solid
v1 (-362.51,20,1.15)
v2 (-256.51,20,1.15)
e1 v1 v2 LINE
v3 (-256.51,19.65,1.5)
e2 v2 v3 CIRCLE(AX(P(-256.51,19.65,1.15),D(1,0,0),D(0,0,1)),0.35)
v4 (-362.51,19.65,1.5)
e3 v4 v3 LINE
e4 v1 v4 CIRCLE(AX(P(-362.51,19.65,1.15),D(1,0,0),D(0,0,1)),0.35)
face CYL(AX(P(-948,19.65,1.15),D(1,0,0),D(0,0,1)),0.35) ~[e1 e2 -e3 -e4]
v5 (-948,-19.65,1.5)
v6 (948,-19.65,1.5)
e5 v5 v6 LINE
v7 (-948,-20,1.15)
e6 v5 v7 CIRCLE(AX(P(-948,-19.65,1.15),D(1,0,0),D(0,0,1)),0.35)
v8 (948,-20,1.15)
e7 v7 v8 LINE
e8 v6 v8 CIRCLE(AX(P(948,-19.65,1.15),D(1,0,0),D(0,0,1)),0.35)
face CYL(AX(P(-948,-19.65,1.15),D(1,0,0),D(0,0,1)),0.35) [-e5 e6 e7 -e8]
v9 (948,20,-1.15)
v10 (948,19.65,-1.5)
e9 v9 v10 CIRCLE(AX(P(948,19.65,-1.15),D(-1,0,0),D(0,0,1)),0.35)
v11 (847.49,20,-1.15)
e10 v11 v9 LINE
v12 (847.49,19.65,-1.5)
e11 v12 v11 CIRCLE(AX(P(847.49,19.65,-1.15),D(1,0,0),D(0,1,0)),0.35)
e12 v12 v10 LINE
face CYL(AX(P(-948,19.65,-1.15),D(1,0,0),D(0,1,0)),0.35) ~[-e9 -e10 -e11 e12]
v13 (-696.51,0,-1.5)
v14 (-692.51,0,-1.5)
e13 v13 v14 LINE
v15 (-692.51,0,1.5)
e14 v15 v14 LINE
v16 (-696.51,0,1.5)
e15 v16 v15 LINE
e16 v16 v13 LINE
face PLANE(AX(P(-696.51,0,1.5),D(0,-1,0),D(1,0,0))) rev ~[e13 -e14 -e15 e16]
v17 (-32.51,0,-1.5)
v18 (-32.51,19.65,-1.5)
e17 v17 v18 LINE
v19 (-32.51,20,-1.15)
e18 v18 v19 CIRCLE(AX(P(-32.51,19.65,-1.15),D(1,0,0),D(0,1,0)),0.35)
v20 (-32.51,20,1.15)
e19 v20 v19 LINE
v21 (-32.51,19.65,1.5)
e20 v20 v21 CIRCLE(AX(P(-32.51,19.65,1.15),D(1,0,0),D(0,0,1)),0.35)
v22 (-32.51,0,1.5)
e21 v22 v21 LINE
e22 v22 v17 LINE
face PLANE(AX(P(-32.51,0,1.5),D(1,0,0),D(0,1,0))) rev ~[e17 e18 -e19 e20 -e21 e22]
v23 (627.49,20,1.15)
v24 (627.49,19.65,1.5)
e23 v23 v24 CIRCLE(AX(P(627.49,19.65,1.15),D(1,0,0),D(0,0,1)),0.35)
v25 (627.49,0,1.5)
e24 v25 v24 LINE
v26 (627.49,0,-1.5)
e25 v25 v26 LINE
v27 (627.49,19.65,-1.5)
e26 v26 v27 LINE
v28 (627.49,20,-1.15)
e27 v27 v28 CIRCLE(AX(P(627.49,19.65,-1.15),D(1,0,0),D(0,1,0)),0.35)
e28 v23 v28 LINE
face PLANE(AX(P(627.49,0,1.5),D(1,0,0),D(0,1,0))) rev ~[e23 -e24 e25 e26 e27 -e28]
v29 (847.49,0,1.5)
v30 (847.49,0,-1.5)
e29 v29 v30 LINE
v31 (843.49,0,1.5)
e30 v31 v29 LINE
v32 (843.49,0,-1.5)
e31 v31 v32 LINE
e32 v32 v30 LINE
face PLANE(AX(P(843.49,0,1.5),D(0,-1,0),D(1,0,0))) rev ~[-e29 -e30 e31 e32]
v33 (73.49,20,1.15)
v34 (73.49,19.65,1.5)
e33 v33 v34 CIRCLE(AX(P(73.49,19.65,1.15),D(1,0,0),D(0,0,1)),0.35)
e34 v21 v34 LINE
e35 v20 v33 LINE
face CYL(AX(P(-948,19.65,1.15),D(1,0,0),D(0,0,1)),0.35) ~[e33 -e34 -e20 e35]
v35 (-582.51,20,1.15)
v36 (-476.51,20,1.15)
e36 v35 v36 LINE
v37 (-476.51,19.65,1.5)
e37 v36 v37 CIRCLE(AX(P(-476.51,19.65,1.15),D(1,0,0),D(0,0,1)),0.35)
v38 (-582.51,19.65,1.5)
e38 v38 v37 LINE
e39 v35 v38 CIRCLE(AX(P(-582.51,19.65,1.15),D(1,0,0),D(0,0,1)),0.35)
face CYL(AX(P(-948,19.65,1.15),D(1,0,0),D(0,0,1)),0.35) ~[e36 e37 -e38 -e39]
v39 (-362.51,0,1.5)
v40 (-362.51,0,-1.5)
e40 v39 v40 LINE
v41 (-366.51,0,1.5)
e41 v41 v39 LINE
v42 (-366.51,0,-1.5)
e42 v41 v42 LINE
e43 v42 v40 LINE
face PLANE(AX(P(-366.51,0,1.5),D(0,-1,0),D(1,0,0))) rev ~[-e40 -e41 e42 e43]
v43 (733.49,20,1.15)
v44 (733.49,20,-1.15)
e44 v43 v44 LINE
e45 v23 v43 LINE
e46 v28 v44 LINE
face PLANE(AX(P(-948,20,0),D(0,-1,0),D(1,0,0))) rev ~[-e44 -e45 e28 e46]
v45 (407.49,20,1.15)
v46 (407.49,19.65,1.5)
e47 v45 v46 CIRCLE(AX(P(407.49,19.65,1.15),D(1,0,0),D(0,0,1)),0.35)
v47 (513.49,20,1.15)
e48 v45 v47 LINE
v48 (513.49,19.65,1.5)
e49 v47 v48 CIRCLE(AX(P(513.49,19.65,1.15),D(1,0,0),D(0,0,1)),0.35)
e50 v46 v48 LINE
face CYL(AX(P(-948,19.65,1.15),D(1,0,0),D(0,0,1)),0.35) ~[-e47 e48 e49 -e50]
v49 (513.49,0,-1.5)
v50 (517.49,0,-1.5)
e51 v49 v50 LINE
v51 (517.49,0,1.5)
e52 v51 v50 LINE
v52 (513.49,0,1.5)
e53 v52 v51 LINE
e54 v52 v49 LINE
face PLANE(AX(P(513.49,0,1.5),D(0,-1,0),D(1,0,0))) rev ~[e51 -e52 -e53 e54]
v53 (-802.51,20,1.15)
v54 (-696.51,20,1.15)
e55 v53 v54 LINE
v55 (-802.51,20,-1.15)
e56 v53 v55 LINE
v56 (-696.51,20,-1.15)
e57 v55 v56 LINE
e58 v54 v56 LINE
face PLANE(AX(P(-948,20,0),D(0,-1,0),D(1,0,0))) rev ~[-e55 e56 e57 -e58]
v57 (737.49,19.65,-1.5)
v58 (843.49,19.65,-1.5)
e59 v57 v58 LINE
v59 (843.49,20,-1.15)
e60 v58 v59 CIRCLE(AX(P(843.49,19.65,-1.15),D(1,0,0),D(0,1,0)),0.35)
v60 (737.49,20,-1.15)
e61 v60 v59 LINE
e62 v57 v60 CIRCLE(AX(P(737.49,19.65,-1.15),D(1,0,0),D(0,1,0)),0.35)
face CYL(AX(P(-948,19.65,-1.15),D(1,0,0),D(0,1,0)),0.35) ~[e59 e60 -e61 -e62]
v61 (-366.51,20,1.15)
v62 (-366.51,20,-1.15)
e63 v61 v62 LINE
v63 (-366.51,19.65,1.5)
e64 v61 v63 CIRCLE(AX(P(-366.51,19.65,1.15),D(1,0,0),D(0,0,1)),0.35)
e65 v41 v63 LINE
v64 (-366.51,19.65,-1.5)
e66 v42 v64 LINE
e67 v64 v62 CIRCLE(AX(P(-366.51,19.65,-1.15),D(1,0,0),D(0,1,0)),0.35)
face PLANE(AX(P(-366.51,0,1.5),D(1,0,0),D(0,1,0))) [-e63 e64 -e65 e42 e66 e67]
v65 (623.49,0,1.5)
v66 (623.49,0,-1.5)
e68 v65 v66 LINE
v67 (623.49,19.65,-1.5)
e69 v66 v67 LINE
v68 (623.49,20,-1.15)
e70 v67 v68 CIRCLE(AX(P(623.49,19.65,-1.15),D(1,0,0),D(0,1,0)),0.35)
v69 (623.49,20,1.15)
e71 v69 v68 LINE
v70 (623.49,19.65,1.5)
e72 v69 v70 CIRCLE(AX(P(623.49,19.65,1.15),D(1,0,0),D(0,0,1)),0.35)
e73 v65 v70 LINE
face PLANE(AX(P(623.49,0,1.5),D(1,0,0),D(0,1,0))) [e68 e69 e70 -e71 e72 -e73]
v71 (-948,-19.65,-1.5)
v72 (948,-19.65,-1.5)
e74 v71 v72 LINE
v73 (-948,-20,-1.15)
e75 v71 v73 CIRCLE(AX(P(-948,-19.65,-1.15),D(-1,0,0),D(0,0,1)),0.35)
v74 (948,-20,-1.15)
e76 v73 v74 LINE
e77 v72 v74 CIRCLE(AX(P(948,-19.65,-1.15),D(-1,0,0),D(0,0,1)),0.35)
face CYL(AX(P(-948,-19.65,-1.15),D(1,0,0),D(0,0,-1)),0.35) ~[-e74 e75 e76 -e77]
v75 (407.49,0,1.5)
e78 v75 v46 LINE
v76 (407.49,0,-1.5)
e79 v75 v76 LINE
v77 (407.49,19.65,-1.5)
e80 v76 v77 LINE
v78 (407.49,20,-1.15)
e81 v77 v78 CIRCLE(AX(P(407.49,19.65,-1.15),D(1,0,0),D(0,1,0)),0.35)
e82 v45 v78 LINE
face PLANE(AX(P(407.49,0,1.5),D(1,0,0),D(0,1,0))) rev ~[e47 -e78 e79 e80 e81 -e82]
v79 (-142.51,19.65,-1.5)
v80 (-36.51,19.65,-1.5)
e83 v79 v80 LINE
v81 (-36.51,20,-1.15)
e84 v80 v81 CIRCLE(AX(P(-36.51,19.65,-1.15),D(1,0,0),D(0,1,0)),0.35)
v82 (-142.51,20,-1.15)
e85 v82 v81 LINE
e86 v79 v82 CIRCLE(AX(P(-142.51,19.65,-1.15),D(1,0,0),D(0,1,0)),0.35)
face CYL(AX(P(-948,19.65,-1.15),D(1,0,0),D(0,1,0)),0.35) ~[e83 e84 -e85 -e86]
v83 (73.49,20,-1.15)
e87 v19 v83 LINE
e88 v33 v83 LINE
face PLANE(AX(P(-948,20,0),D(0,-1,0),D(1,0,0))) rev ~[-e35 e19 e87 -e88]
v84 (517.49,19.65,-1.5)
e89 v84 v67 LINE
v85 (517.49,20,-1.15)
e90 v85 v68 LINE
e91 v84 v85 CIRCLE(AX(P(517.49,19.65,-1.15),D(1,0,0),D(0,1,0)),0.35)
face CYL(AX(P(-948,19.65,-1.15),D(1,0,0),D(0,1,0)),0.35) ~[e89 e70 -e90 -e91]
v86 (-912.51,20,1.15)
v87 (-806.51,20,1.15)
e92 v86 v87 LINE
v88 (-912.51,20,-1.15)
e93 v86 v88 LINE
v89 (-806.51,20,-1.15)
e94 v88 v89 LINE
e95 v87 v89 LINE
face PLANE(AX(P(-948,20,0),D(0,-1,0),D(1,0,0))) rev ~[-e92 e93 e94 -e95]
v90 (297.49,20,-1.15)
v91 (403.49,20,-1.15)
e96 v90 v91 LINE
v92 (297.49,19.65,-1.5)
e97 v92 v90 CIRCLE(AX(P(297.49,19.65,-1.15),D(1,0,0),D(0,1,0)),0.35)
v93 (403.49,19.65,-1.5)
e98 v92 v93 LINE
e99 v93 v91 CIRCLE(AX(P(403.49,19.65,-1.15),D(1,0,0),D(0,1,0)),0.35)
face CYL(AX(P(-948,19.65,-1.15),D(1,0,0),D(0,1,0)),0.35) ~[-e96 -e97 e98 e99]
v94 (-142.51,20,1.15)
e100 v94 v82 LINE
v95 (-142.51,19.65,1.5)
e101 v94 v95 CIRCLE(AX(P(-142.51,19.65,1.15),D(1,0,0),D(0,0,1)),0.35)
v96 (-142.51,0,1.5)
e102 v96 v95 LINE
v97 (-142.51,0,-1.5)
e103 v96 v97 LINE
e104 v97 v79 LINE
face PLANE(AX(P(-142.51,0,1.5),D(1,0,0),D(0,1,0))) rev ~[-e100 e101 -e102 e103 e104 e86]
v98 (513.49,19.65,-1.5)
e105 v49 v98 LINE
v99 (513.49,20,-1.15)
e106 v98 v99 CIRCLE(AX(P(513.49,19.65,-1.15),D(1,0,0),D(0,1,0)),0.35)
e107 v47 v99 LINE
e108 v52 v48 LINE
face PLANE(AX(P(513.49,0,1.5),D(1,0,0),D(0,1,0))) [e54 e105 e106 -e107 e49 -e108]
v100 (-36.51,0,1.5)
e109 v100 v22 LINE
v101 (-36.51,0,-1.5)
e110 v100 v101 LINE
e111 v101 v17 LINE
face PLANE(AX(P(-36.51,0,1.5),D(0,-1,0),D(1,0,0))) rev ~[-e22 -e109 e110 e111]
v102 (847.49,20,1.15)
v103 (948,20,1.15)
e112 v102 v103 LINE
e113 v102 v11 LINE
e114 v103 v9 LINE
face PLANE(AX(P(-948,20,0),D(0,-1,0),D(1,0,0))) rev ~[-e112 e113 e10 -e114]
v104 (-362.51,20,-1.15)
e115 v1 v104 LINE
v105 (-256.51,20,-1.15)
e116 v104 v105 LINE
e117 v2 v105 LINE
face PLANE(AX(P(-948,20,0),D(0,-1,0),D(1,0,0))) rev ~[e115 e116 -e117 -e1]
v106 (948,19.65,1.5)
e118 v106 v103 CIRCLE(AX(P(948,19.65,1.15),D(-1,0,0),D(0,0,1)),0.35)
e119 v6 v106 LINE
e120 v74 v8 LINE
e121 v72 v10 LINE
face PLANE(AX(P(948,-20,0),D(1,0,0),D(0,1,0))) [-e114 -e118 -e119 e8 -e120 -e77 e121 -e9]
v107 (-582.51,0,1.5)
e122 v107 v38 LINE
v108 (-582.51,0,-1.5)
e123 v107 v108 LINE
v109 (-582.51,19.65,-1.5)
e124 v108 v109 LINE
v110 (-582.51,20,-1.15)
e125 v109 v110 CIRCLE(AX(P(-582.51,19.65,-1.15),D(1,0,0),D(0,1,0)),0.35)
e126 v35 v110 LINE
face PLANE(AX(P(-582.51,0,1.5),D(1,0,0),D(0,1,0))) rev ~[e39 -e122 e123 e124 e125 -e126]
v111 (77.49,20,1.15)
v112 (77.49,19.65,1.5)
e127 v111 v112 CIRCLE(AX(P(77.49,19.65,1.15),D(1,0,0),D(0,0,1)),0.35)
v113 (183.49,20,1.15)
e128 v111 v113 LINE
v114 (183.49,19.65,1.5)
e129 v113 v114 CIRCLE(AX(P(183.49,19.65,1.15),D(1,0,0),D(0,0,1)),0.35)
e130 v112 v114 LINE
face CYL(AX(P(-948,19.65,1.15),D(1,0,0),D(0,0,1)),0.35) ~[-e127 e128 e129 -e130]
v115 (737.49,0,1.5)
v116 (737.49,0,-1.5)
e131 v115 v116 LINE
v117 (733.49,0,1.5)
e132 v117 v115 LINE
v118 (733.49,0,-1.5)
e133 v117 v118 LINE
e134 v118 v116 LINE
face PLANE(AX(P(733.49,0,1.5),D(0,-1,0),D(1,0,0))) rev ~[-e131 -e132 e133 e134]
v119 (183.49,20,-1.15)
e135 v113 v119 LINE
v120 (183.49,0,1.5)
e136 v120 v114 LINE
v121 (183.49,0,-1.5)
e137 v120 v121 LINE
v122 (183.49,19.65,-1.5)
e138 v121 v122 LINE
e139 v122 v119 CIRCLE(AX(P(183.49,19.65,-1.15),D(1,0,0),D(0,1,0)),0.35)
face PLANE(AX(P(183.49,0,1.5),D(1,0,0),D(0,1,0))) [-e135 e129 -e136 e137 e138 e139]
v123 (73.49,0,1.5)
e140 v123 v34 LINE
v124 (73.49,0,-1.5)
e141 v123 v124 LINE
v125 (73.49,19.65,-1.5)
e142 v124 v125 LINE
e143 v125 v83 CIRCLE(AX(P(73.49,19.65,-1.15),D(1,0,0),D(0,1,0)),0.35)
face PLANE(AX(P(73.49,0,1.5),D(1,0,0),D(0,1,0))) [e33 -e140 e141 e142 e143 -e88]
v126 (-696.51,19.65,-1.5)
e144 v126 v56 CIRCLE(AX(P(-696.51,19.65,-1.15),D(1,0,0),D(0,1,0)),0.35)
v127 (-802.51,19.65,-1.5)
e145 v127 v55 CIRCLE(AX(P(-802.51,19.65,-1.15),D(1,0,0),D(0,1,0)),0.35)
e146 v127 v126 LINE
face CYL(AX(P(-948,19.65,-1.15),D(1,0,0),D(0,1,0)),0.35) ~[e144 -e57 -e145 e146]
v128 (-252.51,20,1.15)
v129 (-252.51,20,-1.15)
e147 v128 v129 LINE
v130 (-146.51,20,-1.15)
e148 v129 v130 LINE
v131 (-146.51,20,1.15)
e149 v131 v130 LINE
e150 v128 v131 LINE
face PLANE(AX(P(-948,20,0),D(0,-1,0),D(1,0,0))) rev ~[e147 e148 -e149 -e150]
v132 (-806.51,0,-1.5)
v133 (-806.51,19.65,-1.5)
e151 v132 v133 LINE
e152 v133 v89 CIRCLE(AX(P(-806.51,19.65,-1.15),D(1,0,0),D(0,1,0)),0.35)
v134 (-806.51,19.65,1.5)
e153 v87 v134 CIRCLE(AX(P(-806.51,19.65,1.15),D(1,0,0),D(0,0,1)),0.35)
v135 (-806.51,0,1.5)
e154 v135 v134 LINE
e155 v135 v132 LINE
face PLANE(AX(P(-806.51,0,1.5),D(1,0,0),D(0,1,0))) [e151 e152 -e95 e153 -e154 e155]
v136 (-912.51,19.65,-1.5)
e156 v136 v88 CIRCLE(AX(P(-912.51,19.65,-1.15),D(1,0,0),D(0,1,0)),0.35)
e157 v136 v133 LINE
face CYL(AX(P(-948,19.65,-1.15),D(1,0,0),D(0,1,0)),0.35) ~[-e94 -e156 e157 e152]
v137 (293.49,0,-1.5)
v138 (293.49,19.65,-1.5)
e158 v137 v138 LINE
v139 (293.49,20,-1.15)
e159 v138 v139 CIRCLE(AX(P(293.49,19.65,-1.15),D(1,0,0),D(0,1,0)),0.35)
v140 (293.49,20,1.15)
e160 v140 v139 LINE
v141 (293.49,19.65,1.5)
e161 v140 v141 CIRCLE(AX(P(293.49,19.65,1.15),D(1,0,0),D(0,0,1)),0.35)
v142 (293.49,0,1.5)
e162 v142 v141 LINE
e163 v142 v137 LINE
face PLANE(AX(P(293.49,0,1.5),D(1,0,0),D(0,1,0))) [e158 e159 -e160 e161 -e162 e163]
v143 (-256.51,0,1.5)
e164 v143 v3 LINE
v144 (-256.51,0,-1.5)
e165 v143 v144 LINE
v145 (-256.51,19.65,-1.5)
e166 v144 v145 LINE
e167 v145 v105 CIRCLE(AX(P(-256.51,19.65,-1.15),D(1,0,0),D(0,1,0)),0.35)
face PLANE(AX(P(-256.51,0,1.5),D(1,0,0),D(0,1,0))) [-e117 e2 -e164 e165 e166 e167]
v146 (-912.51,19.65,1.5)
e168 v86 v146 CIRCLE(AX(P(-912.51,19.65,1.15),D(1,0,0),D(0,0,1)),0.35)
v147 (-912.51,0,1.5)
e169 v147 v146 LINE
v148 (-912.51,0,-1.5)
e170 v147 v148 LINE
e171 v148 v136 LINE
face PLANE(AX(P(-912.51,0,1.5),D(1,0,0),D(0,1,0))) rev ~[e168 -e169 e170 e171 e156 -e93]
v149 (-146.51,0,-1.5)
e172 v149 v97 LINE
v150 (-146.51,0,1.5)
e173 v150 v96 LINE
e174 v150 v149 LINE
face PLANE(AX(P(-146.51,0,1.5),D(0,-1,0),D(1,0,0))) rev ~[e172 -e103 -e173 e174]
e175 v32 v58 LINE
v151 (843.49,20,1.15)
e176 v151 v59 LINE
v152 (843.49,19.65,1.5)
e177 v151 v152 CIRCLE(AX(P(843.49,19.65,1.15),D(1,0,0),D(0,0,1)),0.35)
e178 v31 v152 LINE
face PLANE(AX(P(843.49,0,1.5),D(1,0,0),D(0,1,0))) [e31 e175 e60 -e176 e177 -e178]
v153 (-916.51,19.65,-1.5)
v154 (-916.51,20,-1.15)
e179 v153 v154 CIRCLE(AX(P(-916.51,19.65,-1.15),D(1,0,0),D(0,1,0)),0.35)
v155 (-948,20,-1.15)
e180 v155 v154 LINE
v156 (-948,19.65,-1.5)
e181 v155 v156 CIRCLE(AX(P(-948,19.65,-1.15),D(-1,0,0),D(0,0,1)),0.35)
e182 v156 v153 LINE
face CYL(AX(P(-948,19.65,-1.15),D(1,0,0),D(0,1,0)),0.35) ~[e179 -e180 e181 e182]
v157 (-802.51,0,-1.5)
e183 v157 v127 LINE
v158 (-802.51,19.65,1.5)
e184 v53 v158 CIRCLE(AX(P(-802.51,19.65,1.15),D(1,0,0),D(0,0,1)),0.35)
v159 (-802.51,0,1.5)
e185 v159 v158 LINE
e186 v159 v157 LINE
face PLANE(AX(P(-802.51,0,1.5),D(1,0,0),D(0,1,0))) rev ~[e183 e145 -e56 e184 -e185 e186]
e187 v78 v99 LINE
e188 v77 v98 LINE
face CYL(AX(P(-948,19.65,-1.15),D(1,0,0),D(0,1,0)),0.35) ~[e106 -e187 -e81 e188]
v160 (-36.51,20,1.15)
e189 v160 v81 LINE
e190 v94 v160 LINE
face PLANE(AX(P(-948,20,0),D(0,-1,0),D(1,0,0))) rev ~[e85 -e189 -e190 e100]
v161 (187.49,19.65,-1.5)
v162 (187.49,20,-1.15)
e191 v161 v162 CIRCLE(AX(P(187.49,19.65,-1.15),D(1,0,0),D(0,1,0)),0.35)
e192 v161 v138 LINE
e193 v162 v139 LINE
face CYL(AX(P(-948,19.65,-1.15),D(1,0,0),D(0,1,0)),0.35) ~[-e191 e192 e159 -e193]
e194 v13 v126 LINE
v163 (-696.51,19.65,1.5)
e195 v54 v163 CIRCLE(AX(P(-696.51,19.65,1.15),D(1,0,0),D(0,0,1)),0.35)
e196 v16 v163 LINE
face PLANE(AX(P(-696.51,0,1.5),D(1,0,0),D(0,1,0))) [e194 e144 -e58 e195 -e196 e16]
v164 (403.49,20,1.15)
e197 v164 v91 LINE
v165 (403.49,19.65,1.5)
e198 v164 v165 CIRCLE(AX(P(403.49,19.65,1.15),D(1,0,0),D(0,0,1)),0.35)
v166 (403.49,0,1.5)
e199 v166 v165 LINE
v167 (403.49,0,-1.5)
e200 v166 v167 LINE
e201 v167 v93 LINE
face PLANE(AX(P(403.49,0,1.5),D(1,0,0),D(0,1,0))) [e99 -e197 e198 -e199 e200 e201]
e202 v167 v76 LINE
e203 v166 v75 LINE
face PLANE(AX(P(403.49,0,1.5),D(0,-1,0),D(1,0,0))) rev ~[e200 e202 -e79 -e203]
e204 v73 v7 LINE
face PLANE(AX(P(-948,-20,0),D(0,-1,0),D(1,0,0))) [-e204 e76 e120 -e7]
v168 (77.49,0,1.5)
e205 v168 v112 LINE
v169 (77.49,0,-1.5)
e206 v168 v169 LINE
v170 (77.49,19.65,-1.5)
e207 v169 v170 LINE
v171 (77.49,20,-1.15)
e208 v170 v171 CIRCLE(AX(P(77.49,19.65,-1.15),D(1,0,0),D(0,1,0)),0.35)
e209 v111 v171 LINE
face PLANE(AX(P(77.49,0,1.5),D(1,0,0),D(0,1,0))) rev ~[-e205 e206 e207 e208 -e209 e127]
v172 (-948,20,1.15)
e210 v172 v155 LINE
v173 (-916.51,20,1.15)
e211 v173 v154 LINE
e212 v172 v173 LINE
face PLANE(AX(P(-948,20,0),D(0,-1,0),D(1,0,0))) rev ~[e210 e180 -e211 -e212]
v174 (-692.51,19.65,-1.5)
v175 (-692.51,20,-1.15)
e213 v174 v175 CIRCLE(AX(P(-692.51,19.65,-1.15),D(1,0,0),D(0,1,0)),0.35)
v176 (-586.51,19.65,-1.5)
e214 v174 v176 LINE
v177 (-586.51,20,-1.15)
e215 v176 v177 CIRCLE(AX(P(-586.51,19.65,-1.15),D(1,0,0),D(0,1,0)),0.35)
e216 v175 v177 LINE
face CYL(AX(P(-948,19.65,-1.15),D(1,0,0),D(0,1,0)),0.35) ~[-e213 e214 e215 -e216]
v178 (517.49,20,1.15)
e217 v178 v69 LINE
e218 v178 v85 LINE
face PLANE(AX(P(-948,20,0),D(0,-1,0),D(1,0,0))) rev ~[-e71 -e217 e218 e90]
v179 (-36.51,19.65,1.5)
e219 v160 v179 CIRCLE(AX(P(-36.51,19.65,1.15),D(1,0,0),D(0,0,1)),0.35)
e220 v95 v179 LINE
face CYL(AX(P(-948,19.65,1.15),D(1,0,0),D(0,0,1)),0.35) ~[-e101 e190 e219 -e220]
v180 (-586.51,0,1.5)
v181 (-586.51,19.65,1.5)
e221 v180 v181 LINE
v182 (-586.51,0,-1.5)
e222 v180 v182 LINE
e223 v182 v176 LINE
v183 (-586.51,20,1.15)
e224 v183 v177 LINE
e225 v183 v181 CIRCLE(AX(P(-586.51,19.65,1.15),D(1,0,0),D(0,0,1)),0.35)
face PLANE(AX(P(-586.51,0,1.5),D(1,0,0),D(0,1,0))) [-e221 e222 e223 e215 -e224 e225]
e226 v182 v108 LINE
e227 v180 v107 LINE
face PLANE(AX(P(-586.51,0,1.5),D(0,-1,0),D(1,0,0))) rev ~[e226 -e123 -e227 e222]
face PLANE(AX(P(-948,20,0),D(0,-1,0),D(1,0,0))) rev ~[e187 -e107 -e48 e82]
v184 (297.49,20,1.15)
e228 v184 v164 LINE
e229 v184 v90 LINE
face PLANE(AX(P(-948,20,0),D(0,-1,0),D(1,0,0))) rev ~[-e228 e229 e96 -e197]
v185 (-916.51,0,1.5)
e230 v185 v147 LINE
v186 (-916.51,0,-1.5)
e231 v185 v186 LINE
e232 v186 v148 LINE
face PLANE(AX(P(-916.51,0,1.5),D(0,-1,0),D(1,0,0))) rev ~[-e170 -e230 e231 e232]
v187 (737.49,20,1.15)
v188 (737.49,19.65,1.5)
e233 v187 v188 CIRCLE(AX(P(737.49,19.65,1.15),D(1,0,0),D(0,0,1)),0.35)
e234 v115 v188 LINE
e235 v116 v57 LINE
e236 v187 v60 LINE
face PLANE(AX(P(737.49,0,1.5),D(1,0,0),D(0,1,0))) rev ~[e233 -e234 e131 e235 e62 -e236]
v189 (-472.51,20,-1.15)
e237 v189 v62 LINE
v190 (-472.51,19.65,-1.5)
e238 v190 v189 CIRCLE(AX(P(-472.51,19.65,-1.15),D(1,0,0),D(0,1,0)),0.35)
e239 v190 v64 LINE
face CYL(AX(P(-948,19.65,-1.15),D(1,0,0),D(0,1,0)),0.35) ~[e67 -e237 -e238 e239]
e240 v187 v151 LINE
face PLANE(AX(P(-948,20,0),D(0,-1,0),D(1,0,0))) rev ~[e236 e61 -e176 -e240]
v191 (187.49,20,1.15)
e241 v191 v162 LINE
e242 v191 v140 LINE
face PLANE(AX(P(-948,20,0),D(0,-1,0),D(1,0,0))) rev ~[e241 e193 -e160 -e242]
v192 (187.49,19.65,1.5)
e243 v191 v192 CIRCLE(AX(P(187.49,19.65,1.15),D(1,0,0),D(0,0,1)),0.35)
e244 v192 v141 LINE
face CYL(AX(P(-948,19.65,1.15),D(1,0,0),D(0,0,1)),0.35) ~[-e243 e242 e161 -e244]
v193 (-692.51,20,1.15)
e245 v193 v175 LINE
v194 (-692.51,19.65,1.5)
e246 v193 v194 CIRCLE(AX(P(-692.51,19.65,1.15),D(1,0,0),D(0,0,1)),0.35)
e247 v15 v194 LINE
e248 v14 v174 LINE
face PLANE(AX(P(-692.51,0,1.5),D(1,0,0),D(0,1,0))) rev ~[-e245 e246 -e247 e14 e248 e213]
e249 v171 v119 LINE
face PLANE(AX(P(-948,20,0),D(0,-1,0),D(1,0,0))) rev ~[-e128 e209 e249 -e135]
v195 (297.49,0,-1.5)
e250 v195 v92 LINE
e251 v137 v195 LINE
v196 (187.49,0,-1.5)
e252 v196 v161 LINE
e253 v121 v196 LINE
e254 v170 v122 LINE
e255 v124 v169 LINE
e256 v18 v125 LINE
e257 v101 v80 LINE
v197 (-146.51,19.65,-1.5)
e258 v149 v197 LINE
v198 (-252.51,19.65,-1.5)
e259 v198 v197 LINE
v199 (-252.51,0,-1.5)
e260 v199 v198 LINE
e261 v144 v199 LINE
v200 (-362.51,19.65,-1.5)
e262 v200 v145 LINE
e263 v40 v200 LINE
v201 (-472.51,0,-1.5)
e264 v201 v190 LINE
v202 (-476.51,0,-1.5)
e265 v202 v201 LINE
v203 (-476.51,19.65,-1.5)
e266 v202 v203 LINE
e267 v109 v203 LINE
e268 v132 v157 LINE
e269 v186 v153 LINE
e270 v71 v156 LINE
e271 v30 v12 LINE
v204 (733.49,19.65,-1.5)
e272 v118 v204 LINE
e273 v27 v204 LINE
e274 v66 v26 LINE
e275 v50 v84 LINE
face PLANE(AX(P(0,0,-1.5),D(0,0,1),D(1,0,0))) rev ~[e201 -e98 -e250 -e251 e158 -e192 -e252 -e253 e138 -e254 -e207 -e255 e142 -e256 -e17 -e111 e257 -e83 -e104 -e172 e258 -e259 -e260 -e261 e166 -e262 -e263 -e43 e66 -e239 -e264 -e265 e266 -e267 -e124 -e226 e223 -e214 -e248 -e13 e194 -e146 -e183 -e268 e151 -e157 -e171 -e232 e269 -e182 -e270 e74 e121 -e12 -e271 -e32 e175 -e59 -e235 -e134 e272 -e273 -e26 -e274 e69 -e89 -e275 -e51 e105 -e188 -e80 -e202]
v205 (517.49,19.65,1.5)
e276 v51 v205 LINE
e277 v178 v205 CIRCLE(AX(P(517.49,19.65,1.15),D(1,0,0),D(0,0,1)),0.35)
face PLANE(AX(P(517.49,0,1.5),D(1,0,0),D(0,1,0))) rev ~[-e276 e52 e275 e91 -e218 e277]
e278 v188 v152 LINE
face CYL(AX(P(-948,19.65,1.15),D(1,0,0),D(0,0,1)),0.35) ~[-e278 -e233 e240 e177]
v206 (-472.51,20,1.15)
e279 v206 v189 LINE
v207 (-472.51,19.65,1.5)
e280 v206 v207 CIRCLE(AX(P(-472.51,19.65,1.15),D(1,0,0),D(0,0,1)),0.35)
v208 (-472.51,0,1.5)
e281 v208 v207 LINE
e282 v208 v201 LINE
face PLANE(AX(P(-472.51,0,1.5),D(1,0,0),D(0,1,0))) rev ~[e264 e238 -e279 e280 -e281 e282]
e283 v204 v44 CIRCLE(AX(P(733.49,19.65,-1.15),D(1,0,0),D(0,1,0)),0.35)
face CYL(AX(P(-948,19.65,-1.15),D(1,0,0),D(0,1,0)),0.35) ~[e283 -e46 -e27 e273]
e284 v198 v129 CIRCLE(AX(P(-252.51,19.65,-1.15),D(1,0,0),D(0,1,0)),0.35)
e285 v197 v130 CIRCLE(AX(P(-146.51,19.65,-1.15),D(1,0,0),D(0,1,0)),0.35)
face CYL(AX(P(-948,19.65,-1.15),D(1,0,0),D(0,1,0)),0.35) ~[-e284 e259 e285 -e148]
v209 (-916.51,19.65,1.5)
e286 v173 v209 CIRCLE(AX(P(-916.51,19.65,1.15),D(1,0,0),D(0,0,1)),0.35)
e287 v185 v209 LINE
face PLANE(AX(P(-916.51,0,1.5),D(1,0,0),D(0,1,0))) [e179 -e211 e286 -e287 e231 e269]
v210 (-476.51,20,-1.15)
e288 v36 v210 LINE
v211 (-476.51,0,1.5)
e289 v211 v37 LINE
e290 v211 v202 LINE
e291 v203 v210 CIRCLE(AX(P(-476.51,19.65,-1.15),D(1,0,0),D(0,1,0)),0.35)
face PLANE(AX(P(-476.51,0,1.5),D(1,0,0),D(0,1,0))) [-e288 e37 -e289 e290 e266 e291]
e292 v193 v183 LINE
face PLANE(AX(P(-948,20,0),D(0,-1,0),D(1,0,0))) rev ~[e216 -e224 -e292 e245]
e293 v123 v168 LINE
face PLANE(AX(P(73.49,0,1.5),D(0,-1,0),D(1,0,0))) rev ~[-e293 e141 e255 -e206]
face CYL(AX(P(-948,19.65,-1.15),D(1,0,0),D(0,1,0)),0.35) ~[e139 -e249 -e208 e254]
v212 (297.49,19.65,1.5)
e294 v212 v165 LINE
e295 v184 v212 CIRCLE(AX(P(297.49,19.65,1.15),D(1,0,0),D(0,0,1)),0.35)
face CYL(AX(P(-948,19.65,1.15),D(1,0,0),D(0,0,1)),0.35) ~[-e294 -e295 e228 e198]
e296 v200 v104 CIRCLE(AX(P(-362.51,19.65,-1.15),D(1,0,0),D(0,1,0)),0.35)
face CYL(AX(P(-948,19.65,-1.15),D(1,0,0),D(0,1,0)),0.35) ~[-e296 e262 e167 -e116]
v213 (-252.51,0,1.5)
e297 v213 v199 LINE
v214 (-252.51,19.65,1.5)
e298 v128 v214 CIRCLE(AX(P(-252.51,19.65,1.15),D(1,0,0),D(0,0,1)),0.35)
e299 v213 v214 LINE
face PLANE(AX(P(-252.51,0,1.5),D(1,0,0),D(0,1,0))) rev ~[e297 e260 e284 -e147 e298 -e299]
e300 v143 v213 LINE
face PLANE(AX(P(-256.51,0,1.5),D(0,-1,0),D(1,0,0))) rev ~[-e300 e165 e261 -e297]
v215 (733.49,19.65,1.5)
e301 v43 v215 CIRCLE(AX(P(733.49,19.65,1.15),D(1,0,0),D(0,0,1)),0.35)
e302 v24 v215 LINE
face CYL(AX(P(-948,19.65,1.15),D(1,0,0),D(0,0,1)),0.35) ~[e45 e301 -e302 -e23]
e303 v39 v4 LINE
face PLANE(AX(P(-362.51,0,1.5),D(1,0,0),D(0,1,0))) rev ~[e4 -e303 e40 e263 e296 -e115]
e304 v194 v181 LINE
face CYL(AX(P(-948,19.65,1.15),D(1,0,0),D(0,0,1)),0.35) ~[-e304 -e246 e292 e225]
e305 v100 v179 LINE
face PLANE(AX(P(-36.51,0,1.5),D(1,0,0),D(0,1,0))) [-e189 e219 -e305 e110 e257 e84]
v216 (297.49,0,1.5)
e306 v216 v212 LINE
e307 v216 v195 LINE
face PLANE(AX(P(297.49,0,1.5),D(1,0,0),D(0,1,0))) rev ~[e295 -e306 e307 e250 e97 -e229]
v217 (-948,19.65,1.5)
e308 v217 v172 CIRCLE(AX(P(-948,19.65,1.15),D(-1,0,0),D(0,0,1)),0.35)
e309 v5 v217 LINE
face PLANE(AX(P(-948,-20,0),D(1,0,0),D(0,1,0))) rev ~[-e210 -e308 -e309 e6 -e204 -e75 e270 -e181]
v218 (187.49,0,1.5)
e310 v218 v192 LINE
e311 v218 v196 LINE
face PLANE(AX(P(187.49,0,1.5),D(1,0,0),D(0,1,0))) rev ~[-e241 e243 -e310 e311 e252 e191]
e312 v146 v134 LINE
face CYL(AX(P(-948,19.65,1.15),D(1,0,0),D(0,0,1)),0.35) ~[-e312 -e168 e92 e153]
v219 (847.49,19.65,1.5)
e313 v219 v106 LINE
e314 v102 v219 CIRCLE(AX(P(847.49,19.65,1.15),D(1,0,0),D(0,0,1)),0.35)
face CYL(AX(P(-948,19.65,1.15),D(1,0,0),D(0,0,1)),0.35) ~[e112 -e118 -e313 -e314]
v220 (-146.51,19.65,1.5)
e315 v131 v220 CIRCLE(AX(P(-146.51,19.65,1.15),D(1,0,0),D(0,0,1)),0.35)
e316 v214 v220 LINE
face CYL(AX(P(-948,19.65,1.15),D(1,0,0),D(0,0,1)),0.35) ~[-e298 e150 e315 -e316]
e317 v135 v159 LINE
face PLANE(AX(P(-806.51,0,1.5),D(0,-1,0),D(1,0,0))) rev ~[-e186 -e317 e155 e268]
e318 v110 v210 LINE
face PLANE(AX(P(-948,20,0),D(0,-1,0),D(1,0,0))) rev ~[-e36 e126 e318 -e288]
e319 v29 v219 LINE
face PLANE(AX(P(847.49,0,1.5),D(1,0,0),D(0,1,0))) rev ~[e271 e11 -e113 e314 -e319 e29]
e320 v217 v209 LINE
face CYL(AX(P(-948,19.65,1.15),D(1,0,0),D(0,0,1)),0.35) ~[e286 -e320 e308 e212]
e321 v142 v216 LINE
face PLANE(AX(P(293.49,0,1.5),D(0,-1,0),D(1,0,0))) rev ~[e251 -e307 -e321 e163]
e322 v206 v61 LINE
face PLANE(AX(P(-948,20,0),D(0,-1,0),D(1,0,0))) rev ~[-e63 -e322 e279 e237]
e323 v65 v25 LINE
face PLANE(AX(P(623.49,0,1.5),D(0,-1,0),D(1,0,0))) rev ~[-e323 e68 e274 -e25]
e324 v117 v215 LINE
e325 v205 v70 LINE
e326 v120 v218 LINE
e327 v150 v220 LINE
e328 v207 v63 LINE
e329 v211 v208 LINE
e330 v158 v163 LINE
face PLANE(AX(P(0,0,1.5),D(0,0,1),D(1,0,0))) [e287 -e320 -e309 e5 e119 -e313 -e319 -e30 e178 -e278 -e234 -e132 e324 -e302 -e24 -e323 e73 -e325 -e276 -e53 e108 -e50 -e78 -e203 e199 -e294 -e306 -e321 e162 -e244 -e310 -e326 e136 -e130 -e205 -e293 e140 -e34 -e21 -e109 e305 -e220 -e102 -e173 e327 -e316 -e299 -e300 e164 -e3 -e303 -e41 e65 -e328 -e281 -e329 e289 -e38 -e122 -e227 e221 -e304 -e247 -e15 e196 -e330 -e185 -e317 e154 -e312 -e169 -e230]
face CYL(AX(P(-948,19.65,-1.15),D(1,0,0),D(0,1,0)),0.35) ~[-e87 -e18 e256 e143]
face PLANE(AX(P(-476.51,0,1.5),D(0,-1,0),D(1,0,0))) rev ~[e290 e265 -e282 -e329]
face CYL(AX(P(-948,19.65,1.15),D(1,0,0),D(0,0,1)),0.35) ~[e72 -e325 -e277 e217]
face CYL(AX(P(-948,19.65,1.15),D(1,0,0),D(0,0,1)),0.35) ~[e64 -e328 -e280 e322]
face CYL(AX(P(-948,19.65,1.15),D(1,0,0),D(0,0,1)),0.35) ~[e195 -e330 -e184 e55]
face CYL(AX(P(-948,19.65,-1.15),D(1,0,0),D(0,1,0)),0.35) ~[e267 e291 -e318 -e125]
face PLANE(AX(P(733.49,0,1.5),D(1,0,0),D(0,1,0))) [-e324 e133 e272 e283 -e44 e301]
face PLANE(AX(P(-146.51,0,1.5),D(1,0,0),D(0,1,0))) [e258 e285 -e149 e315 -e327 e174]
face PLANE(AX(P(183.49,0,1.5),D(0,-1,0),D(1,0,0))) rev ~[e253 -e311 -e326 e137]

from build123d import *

# Parameters (mm, degrees)
BOSS_EXTRUDE1_DEPTH      = 1.5
BOSS_EXTRUDE1_DEPTH_BACK = 1.5
SKETCH1_W                = 1896
SKETCH1_H                = 40
FILLET1_R                = 0.35
SKETCH2_W                = 4
SKETCH2_H                = 20
CUT_EXTRUDE1_DEPTH       = 949.215692762


with BuildPart() as part:
    # Sketch1 → Boss-Extrude1 (new, two sides: drawn at the far end of the back side and taken through both)
    with BuildSketch(Plane.XY.offset(-BOSS_EXTRUDE1_DEPTH_BACK)):
        Rectangle(SKETCH1_W, SKETCH1_H)
    extrude(amount=BOSS_EXTRUDE1_DEPTH + BOSS_EXTRUDE1_DEPTH_BACK)

    # Fillet1
    fillet1_edges = [part.edges().sort_by_distance(p)[0] for p in [
        (0, -20, -1.5),
        (0, -20, 1.5),
        (0, 20, -1.5),
        (0, 20, 1.5),
    ]]
    fillet(fillet1_edges, radius=FILLET1_R)

    # Sketch2 → Cut-Extrude1 (cut, through all)
    with BuildSketch(Plane.XY.offset(1.5)):
        with Locations((-804.51, 10)):
            Rectangle(SKETCH2_W, SKETCH2_H)
        with Locations((-914.51, 10)):
            Rectangle(SKETCH2_W, SKETCH2_H)
        with Locations((-694.51, 10)):
            Rectangle(SKETCH2_W, SKETCH2_H)
        with Locations((-584.51, 10)):
            Rectangle(SKETCH2_W, SKETCH2_H)
        with Locations((-474.51, 10)):
            Rectangle(SKETCH2_W, SKETCH2_H)
        with Locations((-364.51, 10)):
            Rectangle(SKETCH2_W, SKETCH2_H)
        with Locations((-254.51, 10)):
            Rectangle(SKETCH2_W, SKETCH2_H)
        with Locations((-144.51, 10)):
            Rectangle(SKETCH2_W, SKETCH2_H)
        with Locations((-34.51, 10)):
            Rectangle(SKETCH2_W, SKETCH2_H)
        with Locations((75.49, 10)):
            Rectangle(SKETCH2_W, SKETCH2_H)
        with Locations((185.49, 10)):
            Rectangle(SKETCH2_W, SKETCH2_H)
        with Locations((295.49, 10)):
            Rectangle(SKETCH2_W, SKETCH2_H)
        with Locations((405.49, 10)):
            Rectangle(SKETCH2_W, SKETCH2_H)
        with Locations((515.49, 10)):
            Rectangle(SKETCH2_W, SKETCH2_H)
        with Locations((625.49, 10)):
            Rectangle(SKETCH2_W, SKETCH2_H)
        with Locations((735.49, 10)):
            Rectangle(SKETCH2_W, SKETCH2_H)
        with Locations((845.49, 10)):
            Rectangle(SKETCH2_W, SKETCH2_H)
    extrude(amount=-CUT_EXTRUDE1_DEPTH, mode=Mode.SUBTRACT)


solid = part.part
